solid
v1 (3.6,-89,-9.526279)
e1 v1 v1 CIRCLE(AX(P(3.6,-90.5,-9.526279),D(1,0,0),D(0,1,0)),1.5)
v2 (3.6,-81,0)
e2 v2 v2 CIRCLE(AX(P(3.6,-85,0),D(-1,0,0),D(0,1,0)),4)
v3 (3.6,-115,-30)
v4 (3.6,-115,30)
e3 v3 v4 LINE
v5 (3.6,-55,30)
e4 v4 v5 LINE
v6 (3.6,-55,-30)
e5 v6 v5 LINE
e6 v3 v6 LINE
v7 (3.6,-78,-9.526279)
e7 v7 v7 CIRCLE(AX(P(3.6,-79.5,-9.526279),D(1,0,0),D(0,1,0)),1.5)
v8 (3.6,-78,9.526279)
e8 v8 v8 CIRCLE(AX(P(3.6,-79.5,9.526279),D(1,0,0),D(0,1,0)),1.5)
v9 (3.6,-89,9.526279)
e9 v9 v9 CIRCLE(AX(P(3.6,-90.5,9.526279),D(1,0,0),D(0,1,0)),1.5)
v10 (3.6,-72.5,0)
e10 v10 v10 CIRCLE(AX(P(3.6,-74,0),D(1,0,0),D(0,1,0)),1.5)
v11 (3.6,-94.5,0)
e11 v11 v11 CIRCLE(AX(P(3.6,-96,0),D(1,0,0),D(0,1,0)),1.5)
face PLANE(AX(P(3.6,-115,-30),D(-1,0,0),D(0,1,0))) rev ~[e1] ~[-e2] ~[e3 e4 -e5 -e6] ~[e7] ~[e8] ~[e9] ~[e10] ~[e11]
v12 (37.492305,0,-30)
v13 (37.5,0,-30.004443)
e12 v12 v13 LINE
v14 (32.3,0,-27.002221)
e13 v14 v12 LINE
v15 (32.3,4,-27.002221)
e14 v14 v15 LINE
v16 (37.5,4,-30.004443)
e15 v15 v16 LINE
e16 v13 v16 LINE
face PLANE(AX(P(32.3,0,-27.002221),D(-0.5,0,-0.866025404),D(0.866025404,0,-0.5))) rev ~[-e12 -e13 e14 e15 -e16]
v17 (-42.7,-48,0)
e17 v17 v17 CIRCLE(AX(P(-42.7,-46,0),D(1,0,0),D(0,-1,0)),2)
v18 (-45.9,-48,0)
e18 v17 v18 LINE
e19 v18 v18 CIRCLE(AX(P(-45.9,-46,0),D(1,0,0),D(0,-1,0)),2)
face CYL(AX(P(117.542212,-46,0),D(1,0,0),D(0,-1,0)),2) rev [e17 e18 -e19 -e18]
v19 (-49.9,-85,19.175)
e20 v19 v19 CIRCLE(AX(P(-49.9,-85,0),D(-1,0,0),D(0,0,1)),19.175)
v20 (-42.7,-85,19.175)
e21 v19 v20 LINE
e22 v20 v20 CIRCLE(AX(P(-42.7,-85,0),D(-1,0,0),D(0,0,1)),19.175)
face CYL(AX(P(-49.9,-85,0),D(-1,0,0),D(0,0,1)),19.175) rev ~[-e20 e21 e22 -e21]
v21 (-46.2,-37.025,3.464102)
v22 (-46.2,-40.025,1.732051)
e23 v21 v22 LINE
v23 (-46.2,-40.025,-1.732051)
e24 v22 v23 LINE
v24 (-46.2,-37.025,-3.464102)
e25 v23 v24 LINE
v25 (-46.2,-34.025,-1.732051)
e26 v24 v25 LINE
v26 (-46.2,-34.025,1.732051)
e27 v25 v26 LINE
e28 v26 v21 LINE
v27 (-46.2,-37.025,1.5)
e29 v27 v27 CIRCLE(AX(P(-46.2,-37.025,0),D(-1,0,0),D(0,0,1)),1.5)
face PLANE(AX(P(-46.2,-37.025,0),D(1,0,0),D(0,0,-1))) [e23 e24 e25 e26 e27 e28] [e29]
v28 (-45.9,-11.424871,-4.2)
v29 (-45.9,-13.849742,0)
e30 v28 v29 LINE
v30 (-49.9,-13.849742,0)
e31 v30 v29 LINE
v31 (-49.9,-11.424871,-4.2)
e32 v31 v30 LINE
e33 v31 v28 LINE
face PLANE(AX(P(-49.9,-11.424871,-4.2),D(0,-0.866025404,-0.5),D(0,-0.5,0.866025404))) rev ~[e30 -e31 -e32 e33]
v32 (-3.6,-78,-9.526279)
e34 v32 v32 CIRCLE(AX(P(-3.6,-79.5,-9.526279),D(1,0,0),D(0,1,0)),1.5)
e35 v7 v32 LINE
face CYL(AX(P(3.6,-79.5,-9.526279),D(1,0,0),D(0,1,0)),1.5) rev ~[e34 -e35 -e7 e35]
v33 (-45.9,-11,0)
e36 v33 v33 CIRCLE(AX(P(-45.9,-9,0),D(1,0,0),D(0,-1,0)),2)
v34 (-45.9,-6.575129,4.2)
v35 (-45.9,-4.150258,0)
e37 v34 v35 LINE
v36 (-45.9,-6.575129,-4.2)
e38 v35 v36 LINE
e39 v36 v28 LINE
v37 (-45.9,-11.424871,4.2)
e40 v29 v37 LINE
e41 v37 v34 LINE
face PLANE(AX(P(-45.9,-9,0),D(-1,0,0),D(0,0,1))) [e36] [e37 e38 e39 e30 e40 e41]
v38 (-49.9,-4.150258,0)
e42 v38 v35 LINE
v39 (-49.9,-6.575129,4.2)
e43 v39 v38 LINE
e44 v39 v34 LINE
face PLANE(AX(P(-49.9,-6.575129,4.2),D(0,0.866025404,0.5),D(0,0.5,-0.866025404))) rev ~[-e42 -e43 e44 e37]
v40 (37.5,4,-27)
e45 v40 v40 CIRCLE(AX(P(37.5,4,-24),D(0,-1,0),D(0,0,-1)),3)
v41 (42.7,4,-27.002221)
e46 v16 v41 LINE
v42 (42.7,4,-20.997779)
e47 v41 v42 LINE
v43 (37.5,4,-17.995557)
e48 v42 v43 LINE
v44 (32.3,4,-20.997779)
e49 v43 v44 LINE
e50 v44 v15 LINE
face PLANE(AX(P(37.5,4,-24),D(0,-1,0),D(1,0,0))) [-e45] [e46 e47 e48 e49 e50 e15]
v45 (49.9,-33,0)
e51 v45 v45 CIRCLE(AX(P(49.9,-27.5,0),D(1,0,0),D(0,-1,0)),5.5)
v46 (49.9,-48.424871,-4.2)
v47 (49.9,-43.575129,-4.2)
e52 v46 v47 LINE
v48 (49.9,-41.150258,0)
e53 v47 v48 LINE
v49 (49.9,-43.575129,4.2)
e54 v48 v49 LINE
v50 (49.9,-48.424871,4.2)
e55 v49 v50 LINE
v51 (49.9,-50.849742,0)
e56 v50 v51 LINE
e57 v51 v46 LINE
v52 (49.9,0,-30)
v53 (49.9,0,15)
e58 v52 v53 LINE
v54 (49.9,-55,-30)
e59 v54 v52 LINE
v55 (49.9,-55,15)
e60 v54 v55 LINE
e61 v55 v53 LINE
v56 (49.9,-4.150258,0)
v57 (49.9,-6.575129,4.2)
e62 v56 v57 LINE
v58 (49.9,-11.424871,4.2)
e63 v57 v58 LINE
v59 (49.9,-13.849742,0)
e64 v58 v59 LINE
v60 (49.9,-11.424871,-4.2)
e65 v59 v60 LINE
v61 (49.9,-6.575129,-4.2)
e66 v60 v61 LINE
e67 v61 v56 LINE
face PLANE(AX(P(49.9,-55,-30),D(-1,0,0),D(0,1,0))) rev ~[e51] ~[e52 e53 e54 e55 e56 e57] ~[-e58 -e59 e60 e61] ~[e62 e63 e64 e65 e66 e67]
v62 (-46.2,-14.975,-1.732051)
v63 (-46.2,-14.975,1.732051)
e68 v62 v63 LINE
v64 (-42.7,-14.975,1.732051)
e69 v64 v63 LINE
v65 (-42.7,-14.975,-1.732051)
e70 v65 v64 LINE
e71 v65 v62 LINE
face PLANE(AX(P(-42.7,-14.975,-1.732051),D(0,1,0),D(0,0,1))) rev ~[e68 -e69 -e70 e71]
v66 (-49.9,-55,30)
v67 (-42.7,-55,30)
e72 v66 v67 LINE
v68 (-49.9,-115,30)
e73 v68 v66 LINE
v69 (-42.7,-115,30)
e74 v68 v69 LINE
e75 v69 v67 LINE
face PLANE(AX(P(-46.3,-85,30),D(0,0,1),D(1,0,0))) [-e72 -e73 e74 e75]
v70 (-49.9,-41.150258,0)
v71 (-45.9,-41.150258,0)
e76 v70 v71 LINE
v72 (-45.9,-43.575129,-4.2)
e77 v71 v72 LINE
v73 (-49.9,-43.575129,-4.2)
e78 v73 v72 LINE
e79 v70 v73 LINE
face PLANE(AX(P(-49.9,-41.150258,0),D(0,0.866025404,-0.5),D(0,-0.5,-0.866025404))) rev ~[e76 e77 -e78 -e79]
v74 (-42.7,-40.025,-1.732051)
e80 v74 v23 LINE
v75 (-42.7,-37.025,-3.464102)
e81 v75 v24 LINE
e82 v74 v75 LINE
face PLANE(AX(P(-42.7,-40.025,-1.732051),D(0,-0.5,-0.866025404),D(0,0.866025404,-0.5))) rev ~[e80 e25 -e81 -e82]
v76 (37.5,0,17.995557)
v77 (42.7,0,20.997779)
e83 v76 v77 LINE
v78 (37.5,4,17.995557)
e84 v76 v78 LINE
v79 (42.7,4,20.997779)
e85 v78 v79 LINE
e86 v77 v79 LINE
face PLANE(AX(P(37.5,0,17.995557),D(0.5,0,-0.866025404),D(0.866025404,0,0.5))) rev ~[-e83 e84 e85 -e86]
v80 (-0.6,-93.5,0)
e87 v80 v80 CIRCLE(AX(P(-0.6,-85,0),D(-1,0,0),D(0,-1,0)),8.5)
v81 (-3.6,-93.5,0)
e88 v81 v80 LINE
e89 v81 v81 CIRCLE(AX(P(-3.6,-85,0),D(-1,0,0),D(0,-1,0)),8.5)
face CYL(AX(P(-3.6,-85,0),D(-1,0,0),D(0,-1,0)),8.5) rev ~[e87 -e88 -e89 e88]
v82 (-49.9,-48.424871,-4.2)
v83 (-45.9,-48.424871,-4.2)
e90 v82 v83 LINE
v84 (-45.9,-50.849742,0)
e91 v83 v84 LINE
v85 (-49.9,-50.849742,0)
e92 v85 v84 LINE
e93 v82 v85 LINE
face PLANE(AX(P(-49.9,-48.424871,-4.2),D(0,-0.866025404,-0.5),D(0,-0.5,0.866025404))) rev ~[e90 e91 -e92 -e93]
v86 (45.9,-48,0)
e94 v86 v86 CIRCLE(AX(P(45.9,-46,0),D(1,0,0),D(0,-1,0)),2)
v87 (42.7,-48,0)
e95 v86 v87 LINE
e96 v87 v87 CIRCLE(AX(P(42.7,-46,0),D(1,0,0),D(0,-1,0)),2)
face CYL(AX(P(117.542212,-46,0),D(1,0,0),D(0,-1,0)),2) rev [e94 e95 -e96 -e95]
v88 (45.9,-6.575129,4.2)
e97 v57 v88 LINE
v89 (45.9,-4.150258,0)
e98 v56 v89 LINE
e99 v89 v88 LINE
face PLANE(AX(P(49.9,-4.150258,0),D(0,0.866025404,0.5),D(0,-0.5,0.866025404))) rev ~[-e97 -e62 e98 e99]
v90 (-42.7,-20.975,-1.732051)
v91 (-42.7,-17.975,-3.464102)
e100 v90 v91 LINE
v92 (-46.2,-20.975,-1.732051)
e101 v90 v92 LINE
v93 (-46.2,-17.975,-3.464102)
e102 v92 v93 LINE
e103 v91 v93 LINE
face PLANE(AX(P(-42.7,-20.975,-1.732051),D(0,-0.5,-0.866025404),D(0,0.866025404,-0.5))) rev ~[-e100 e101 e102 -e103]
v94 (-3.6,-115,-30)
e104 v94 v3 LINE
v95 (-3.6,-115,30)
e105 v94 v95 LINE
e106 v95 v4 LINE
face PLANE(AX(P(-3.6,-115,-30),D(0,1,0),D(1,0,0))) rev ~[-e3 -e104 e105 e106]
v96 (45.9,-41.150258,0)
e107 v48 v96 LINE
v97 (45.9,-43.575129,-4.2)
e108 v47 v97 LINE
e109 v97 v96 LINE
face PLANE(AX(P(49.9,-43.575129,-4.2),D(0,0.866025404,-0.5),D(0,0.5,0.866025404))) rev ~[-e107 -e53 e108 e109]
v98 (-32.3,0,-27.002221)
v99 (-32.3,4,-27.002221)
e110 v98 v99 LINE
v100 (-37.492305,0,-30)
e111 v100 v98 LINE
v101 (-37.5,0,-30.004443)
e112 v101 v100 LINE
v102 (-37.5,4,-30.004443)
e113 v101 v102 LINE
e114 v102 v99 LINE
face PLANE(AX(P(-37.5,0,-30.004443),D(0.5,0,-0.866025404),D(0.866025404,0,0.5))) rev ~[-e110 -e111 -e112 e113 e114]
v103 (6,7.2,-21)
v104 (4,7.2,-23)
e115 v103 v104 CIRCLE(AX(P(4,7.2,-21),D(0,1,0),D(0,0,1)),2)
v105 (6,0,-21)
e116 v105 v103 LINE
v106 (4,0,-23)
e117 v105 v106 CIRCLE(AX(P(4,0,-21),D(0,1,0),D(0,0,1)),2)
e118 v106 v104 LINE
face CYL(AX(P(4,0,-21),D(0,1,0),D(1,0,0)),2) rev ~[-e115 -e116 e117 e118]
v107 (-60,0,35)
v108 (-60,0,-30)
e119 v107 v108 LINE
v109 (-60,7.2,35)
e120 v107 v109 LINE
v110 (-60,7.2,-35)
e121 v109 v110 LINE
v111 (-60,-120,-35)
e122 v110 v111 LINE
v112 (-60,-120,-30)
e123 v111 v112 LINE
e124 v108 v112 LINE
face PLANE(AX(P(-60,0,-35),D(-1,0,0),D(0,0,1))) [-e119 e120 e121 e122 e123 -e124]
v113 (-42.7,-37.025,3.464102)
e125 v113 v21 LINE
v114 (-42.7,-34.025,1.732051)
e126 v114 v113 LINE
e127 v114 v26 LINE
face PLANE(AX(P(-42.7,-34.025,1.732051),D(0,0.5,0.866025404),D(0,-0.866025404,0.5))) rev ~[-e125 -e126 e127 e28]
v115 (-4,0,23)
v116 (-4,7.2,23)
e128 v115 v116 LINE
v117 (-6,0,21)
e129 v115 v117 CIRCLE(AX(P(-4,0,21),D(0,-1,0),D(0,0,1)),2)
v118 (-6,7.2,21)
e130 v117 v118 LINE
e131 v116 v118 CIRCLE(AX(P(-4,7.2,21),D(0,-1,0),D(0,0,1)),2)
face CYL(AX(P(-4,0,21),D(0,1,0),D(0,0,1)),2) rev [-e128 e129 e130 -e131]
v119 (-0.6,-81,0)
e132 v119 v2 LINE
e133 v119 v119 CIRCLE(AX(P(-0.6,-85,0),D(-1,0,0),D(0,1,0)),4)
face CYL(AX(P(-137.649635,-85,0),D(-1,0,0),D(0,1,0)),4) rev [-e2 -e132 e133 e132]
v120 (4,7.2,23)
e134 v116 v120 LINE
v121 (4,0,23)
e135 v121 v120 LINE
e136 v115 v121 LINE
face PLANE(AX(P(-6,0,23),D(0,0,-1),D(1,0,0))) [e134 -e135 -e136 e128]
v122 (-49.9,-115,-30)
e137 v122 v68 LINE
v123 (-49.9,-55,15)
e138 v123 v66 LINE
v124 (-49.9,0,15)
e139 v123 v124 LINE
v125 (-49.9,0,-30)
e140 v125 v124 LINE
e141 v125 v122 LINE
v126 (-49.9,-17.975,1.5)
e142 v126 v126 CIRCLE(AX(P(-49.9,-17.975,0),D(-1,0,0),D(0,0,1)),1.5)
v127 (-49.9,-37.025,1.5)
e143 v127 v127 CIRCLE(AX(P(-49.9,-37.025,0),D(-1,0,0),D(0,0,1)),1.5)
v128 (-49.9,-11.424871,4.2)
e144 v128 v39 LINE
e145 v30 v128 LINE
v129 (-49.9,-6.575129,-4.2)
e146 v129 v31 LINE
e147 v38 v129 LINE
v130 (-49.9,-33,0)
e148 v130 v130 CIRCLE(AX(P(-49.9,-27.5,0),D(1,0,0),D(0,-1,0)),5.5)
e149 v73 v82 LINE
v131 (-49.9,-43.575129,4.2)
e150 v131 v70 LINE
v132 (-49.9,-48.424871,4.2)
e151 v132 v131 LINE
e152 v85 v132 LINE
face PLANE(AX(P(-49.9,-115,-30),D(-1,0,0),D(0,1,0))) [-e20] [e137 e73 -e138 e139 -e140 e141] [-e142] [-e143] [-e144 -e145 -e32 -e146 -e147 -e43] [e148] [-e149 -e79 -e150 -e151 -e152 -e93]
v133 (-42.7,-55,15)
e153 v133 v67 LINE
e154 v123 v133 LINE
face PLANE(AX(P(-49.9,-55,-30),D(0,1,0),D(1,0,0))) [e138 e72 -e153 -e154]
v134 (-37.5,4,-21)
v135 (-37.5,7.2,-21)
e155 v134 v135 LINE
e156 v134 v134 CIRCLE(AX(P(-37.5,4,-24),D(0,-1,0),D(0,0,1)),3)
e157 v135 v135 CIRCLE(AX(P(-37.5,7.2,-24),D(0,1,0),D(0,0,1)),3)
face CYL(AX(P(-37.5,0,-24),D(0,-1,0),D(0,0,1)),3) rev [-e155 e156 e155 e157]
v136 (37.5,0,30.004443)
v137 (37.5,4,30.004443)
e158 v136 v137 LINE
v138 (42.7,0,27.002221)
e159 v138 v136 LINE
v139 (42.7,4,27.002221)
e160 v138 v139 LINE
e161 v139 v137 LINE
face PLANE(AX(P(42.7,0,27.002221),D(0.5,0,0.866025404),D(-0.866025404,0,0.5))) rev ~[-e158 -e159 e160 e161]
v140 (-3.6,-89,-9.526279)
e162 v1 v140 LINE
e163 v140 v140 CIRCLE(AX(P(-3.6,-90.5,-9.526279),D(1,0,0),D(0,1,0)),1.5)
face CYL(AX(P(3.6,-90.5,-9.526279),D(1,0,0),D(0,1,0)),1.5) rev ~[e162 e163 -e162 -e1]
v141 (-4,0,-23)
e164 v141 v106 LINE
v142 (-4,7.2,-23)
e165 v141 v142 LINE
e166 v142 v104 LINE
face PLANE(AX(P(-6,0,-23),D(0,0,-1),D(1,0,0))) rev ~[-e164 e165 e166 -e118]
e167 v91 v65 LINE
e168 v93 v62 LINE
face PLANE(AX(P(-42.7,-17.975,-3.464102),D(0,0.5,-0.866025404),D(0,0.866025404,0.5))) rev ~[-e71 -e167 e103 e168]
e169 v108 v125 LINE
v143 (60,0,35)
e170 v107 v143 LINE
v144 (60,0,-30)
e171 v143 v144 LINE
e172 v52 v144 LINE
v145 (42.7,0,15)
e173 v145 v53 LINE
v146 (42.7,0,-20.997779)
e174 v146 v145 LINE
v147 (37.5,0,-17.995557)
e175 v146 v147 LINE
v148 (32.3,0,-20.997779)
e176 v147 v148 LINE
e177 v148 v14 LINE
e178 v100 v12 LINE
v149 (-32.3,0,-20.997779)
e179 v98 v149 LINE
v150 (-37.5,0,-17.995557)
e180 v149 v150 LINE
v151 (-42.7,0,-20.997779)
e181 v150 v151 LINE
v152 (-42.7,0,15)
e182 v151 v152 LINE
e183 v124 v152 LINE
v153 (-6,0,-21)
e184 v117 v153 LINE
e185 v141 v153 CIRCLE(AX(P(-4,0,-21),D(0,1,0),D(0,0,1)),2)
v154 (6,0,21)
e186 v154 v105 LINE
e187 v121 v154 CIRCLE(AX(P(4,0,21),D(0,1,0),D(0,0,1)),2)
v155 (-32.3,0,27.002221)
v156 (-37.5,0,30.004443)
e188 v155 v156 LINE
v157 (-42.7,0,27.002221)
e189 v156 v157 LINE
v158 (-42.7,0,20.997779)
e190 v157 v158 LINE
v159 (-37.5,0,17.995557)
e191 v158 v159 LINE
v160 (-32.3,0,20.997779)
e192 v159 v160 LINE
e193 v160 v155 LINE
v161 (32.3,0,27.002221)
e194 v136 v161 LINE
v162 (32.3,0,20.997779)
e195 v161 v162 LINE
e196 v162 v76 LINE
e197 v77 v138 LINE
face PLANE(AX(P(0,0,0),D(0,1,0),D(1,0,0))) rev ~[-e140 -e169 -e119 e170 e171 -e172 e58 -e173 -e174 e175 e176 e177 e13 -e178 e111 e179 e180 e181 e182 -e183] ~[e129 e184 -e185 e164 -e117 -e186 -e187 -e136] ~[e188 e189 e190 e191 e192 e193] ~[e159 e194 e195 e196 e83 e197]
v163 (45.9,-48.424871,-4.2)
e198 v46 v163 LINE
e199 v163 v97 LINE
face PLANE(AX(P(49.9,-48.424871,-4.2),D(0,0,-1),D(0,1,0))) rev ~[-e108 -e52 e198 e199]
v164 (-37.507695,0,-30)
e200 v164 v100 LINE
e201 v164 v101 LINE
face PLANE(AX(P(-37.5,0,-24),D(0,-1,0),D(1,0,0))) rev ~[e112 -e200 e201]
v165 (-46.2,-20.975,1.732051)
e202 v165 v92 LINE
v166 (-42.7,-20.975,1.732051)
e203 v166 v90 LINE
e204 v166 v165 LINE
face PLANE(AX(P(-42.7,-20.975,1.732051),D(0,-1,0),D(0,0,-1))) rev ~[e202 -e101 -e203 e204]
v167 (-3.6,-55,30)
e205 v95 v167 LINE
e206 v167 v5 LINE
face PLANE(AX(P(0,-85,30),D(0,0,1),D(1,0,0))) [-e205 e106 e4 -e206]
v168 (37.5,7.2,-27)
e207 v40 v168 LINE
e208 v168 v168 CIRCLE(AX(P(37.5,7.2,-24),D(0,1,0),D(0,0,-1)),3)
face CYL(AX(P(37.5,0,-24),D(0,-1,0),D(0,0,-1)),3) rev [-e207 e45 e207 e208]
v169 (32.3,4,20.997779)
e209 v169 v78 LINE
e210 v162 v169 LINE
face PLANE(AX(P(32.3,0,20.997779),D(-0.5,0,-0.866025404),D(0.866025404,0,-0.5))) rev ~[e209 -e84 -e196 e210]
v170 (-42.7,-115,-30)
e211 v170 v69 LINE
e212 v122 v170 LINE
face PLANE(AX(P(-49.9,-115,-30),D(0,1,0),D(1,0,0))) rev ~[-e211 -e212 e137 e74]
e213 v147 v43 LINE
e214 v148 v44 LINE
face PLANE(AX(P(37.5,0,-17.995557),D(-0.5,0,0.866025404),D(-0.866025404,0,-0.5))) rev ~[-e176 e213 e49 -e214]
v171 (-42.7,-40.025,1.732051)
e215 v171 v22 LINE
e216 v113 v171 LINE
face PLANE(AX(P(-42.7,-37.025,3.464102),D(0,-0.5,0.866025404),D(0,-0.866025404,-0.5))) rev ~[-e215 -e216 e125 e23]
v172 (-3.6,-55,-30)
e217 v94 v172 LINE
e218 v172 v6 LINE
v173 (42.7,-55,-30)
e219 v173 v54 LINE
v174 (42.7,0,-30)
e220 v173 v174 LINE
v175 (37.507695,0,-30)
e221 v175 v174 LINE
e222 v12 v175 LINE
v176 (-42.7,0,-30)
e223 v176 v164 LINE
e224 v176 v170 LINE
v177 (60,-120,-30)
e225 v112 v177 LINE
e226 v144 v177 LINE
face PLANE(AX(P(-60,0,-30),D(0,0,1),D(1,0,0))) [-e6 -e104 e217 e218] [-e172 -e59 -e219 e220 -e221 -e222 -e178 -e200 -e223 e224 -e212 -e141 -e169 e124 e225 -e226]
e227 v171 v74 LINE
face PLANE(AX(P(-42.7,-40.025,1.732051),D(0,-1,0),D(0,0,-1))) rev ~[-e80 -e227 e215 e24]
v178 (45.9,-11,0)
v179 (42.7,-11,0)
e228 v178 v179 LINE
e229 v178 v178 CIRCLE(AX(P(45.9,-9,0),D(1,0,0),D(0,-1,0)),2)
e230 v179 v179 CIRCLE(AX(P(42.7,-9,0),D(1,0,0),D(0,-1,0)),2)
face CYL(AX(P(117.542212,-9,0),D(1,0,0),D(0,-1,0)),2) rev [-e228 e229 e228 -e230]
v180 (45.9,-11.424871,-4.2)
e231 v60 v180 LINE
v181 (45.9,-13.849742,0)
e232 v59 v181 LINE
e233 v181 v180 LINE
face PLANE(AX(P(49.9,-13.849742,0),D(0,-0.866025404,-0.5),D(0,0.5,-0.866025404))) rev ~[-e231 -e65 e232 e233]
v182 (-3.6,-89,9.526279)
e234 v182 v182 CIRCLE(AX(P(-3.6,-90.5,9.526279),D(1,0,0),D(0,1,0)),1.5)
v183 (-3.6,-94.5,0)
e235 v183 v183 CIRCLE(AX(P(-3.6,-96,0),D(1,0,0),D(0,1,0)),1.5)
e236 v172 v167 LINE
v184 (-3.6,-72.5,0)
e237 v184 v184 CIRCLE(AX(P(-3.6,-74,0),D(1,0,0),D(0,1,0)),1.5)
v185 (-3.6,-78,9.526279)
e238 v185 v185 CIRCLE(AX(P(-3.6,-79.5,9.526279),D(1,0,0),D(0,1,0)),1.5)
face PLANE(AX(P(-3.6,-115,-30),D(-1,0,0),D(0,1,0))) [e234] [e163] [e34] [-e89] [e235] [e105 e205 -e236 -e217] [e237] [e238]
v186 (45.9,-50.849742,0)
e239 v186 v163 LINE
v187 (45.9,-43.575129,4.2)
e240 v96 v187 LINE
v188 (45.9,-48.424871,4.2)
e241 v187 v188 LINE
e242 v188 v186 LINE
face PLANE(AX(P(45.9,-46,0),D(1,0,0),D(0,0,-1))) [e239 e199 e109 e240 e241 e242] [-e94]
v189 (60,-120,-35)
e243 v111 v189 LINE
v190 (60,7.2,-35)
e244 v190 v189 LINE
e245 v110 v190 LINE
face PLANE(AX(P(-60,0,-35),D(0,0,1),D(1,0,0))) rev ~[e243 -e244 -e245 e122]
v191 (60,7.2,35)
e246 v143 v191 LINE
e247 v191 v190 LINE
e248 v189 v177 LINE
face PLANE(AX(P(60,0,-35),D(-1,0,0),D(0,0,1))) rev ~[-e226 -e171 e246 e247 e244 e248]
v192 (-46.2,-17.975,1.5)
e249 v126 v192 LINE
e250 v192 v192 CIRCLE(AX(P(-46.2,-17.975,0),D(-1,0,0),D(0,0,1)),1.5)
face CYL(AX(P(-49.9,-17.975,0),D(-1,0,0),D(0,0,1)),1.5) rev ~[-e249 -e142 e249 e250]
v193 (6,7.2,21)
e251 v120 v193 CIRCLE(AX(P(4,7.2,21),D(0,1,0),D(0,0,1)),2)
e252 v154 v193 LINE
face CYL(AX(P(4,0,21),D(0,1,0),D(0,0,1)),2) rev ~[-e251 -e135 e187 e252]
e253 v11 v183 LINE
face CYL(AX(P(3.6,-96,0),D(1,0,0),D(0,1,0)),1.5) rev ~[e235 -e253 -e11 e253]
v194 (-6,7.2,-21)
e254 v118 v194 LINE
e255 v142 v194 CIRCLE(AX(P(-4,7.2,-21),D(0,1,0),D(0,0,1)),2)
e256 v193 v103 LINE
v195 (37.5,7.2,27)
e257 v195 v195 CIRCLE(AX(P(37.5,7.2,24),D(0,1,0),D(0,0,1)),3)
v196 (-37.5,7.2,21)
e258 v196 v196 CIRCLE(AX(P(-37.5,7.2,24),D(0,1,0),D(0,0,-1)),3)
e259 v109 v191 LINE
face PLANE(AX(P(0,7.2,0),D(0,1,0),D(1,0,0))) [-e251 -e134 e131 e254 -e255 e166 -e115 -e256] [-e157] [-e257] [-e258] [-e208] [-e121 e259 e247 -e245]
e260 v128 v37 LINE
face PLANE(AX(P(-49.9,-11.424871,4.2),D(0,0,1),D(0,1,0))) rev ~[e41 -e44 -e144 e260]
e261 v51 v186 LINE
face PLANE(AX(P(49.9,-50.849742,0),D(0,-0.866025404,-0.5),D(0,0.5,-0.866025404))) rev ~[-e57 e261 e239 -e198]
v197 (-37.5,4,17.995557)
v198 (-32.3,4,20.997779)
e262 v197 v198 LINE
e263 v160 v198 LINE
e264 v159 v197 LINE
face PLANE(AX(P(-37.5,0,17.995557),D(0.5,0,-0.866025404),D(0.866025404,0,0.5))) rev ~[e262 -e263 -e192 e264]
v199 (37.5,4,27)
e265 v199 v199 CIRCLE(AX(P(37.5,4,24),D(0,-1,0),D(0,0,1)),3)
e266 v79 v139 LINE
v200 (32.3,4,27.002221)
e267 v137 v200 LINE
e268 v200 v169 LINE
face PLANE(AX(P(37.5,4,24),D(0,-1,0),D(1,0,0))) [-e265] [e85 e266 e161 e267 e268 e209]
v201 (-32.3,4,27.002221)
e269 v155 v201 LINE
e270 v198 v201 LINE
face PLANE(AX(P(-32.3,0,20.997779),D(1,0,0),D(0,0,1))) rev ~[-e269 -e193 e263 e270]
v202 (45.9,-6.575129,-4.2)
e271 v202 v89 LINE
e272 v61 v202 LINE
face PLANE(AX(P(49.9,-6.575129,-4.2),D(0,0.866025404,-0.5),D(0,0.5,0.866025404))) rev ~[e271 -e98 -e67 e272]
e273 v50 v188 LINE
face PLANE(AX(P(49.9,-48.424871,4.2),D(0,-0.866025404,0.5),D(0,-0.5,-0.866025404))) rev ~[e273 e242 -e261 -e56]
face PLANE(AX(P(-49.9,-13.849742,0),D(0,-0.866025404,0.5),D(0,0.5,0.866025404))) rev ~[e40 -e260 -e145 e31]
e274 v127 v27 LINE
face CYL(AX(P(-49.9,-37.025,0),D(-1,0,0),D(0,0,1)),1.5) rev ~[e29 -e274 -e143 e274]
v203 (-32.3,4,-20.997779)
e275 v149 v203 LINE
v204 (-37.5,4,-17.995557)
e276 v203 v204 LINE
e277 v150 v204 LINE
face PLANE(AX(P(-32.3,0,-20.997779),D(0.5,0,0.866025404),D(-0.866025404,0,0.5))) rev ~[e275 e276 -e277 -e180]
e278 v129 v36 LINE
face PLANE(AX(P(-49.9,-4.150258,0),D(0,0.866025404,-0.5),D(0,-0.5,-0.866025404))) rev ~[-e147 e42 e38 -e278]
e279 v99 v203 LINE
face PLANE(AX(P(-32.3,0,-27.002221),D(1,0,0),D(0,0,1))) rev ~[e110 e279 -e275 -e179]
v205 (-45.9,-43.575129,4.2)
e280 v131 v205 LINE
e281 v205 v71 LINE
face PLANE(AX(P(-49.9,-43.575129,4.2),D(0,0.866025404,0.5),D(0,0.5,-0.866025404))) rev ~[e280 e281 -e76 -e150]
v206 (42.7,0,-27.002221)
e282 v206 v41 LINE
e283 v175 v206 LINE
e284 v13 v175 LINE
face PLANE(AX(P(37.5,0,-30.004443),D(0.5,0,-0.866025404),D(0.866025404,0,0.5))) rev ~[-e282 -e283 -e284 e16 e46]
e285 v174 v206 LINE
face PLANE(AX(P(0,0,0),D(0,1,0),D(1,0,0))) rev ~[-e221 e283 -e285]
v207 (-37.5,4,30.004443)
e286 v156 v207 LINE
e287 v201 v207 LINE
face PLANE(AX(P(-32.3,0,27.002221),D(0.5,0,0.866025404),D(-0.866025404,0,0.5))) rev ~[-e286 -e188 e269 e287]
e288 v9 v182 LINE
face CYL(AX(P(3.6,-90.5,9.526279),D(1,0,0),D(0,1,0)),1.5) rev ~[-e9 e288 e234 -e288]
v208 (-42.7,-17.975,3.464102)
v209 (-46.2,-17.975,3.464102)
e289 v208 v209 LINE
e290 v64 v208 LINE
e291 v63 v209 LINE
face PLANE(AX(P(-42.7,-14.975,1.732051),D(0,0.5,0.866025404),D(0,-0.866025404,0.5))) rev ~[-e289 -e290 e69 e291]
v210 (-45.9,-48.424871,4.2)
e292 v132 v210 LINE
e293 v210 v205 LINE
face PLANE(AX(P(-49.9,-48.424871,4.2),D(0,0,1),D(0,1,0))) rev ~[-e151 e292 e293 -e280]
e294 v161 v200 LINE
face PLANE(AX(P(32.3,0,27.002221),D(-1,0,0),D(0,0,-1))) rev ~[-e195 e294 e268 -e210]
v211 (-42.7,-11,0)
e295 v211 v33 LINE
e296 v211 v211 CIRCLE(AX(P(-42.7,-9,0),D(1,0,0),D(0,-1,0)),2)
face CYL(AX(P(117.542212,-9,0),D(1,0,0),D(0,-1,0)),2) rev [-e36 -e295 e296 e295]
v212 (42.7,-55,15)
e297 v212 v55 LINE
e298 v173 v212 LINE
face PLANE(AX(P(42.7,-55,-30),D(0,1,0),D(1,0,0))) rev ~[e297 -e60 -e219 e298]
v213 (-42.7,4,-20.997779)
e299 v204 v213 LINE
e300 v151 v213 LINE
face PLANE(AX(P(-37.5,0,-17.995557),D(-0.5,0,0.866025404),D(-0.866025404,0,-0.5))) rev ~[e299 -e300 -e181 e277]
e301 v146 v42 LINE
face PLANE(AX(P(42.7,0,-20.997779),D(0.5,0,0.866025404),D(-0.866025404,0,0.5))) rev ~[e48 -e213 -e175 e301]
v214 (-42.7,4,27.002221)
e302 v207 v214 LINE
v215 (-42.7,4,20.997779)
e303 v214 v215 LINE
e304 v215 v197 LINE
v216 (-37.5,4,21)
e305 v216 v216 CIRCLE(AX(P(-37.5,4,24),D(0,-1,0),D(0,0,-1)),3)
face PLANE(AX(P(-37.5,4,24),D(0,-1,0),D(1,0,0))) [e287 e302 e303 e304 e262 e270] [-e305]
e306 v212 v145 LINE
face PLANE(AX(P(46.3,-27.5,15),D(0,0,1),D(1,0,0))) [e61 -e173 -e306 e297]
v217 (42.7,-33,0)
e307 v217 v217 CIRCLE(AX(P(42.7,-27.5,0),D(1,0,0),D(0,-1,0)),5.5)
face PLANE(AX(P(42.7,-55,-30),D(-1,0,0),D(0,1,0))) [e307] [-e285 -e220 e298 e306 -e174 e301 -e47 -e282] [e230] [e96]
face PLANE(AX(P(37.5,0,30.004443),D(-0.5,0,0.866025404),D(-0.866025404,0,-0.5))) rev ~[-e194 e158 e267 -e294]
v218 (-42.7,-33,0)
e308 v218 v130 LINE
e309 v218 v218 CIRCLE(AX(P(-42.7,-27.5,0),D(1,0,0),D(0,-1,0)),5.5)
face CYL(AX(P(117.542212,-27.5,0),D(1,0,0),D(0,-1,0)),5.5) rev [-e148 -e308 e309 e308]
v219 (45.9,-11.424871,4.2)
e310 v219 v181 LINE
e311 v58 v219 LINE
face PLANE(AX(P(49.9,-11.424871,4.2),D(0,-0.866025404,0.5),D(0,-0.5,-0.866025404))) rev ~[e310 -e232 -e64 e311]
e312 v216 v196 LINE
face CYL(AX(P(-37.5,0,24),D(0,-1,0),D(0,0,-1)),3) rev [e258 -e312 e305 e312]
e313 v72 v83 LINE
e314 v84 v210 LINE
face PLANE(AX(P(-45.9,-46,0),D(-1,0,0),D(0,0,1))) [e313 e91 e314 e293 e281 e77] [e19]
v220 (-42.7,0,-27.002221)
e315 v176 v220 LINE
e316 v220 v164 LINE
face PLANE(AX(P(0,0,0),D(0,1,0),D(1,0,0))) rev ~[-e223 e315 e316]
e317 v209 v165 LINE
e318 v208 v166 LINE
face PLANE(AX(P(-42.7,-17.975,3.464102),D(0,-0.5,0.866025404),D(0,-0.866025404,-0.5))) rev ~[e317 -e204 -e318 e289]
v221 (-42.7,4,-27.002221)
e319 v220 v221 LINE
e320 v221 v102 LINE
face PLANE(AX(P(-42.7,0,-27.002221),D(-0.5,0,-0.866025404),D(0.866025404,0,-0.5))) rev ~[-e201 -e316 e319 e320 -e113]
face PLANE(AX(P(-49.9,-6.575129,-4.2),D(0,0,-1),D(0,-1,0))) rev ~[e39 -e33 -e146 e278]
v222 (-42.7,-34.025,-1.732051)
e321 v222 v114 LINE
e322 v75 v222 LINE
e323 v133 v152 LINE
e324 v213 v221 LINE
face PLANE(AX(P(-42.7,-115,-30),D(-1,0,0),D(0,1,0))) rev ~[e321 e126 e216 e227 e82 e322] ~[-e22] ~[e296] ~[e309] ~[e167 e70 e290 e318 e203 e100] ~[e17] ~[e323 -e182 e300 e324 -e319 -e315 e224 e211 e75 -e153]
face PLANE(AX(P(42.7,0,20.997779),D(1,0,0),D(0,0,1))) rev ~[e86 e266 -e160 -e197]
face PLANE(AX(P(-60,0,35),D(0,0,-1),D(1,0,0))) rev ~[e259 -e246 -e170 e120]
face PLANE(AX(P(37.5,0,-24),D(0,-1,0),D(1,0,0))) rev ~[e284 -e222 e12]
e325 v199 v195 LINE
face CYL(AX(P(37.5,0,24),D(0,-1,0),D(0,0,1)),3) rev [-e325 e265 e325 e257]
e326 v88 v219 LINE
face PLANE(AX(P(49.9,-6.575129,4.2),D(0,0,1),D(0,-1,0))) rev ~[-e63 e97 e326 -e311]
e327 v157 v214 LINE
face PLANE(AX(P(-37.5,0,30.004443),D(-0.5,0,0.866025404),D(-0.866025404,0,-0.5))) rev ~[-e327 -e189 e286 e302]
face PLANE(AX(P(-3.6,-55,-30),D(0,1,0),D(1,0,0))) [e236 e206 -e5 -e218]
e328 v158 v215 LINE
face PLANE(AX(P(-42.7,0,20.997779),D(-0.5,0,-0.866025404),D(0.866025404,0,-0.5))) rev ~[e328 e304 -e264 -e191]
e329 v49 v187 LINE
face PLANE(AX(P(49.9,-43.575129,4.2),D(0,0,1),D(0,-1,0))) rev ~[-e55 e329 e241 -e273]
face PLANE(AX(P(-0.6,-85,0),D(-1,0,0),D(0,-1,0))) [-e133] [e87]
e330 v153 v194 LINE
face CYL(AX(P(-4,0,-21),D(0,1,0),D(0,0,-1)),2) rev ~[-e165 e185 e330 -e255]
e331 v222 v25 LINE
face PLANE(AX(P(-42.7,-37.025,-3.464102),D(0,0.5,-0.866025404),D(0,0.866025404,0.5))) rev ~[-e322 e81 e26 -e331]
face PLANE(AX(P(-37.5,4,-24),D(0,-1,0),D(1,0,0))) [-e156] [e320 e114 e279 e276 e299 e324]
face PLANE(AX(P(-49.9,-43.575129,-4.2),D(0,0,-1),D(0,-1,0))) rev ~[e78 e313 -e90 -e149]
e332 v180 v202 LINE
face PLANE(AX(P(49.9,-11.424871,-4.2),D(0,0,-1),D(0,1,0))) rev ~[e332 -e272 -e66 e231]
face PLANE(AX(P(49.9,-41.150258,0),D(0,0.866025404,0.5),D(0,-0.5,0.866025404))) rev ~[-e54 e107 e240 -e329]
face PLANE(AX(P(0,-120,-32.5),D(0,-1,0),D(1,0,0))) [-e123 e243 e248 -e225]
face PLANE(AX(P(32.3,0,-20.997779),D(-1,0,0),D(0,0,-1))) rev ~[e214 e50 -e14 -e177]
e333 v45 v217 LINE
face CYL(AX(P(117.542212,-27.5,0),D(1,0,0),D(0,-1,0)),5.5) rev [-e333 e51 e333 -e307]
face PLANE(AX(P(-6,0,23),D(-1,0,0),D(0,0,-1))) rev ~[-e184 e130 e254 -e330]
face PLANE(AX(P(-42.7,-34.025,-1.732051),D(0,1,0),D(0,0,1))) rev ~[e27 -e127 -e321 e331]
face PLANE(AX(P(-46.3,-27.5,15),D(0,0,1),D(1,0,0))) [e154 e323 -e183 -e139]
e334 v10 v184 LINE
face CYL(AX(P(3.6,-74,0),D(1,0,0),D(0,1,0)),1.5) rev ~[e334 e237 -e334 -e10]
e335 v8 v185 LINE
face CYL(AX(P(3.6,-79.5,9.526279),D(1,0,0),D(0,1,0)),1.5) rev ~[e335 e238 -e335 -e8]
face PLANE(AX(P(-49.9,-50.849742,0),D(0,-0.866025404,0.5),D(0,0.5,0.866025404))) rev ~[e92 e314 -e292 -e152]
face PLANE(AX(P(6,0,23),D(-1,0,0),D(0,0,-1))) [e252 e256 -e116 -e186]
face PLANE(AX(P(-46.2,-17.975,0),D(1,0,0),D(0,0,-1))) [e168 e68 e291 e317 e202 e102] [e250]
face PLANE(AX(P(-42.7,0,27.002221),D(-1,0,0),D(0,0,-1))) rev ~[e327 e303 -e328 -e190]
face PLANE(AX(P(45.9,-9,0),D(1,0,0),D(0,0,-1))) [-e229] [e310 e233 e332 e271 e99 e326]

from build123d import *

# Parameters (mm, degrees)
SKETCH1_W                = 120
SKETCH1_H                = 70
SKETCH1_R                = 3
SKETCH1_W_2              = 12
SKETCH1_H_2              = 46
BOSS_EXTRUDE1_DEPTH      = 7.2
FILLET1_R                = 2
SKETCH2_W                = 120
SKETCH2_H                = 5
BOSS_EXTRUDE2_DEPTH      = 120
SKETCH9_W                = 7.2
SKETCH9_H                = 55
BOSS_EXTRUDE3_DEPTH      = 45
CUT_EXTRUDE5_DEPTH       = 167.442212194
CUT_EXTRUDE5_DEPTH_BACK  = 167.442212194
SKETCH10_R               = 5.5
SKETCH10_R_2             = 2
CUT_EXTRUDE4_DEPTH       = 4
CUT_EXTRUDE6_DEPTH       = 4
CUT_EXTRUDE7_DEPTH       = 4
SKETCH15_R               = 1.5
CUT_EXTRUDE8_DEPTH       = 7.2
CUT_EXTRUDE9_DEPTH       = 3.5
SKETCH17_W               = 7.2
SKETCH17_H               = 60
BOSS_EXTRUDE4_DEPTH      = 60
CUT_EXTRUDE10_DEPTH      = 141.249634581
CUT_EXTRUDE10_DEPTH_BACK = 141.249634581
SKETCH18_R               = 4
SKETCH19_R               = 1.5
CUT_EXTRUDE11_DEPTH      = 7.2
SKETCH20_R               = 8.5
CUT_EXTRUDE12_DEPTH      = 3
SKETCH21_R               = 19.175
CUT_EXTRUDE13_DEPTH      = 7.2


with BuildPart() as part:
    # Sketch1 → Boss-Extrude1 (new body)
    with BuildSketch(Plane(origin=(0, 0, 0), x_dir=(1, 0, 0), z_dir=(0, 1, 0))):
        Rectangle(SKETCH1_W, SKETCH1_H)
        with Locations(Location((-37.5, 24, 0), (0, 0, 270))):
            Circle(SKETCH1_R, mode=Mode.SUBTRACT)
        with Locations(Location((-37.5, -24, 0), (0, 0, 90))):
            Circle(SKETCH1_R, mode=Mode.SUBTRACT)
        with Locations(Location((37.5, 24, 0), (0, 0, 90))):
            Circle(SKETCH1_R, mode=Mode.SUBTRACT)
        with Locations(Location((37.5, -24, 0), (0, 0, 270))):
            Circle(SKETCH1_R, mode=Mode.SUBTRACT)
        Rectangle(SKETCH1_W_2, SKETCH1_H_2, mode=Mode.SUBTRACT)
    extrude(amount=BOSS_EXTRUDE1_DEPTH)

    # Fillet1
    fillet1_edges = [part.edges().sort_by_distance(p)[0] for p in [
        (-6, 3.6, -23),
        (-6, 3.6, 23),
        (6, 3.6, 23),
        (6, 3.6, -23),
    ]]
    fillet(fillet1_edges, radius=FILLET1_R)

    # Sketch2 → Boss-Extrude2 (add)
    with BuildSketch(Plane.XZ):
        with Locations((0, -32.5)):
            Rectangle(SKETCH2_W, SKETCH2_H)
    extrude(amount=BOSS_EXTRUDE2_DEPTH)

    # Sketch9 → Boss-Extrude3 (add)
    with BuildSketch(Plane.XY.offset(-30)):
        with Locations((-46.3, -27.5)):
            Rectangle(SKETCH9_W, SKETCH9_H)
        with Locations((46.3, -27.5)):
            Rectangle(SKETCH9_W, SKETCH9_H)
    extrude(amount=BOSS_EXTRUDE3_DEPTH)

    # Sketch10 → Cut-Extrude5 (cut, two sides: drawn at the far end of the back side and taken through both)
    with BuildSketch(Plane.ZY.offset(49.9).offset(-CUT_EXTRUDE5_DEPTH_BACK)):
        with Locations(Location((0, -27.5, 0), (0, 0, 270))):
            Circle(SKETCH10_R)
        with Locations(Location((0, -9, 0), (0, 0, 270))):
            Circle(SKETCH10_R_2)
        with Locations(Location((0, -46, 0), (0, 0, 270))):
            Circle(SKETCH10_R_2)
    extrude(amount=CUT_EXTRUDE5_DEPTH + CUT_EXTRUDE5_DEPTH_BACK, mode=Mode.SUBTRACT)

    # Sketch8 → Cut-Extrude4 (cut)
    with BuildSketch(Plane.XZ):
        Polygon((42.7, 27.0022214), (37.5, 30.0044428), (32.3, 27.0022214), (32.3, 20.9977786), (37.5, 17.9955572), (42.7, 20.9977786), align=None)
        Polygon((-32.3, 27.0022214), (-37.5, 30.0044428), (-42.7, 27.0022214), (-42.7, 20.9977786), (-37.5, 17.9955572), (-32.3, 20.9977786), align=None)
        Polygon((42.7, -20.9977786), (37.5, -17.9955572), (32.3, -20.9977786), (32.3, -27.0022214), (37.5, -30.0044428), (42.7, -27.0022214), align=None)
        Polygon((-32.3, -20.9977786), (-37.5, -17.9955572), (-42.7, -20.9977786), (-42.7, -27.0022214), (-37.5, -30.0044428), (-32.3, -27.0022214), align=None)
    extrude(amount=-CUT_EXTRUDE4_DEPTH, mode=Mode.SUBTRACT)

    # Sketch11 → Cut-Extrude6 (cut)
    with BuildSketch(Plane.ZY.offset(49.9)):
        Polygon((0, -13.849742261), (4.2, -11.424871131), (4.2, -6.575128869), (0, -4.150257739), (-4.2, -6.575128869), (-4.2, -11.424871131), align=None)
        Polygon((0, -50.849742261), (4.2, -48.424871131), (4.2, -43.575128869), (0, -41.150257739), (-4.2, -43.575128869), (-4.2, -48.424871131), align=None)
    extrude(amount=-CUT_EXTRUDE6_DEPTH, mode=Mode.SUBTRACT)

    # Sketch12 → Cut-Extrude7 (cut)
    with BuildSketch(Plane(origin=(49.9, 0, 0), x_dir=(0, 0, -1), z_dir=(1, 0, 0))):
        Polygon((0, -13.849742261), (4.2, -11.424871131), (4.2, -6.575128869), (0, -4.150257739), (-4.2, -6.575128869), (-4.2, -11.424871131), align=None)
        Polygon((0, -41.150257739), (-4.2, -43.575128869), (-4.2, -48.424871131), (0, -50.849742261), (4.2, -48.424871131), (4.2, -43.575128869), align=None)
    extrude(amount=-CUT_EXTRUDE7_DEPTH, mode=Mode.SUBTRACT)

    # Sketch15 → Cut-Extrude8 (cut)
    with BuildSketch(Plane.ZY.offset(49.9)):
        with Locations((0, -17.975)):
            Circle(SKETCH15_R)
        with Locations((0, -37.025)):
            Circle(SKETCH15_R)
    extrude(amount=-CUT_EXTRUDE8_DEPTH, mode=Mode.SUBTRACT)

    # Sketch16 → Cut-Extrude9 (cut)
    with BuildSketch(Plane(origin=(-42.7, 0, 0), x_dir=(0, 0, -1), z_dir=(1, 0, 0))):
        Polygon((1.732050808, -14.975), (-1.732050808, -14.975), (-3.464101615, -17.975), (-1.732050808, -20.975), (1.732050808, -20.975), (3.464101615, -17.975), align=None)
        Polygon((1.732050808, -34.025), (-1.732050808, -34.025), (-3.464101615, -37.025), (-1.732050808, -40.025), (1.732050808, -40.025), (3.464101615, -37.025), align=None)
    extrude(amount=-CUT_EXTRUDE9_DEPTH, mode=Mode.SUBTRACT)

    # Sketch17 → Boss-Extrude4 (add)
    with BuildSketch(Plane.XY.offset(-30)):
        with Locations((0, -85)):
            Rectangle(SKETCH17_W, SKETCH17_H)
        with Locations((-46.3, -85)):
            Rectangle(SKETCH17_W, SKETCH17_H)
    extrude(amount=BOSS_EXTRUDE4_DEPTH)

    # Sketch18 → Cut-Extrude10 (cut, two sides: drawn at the far end of the back side and taken through both)
    with BuildSketch(Plane(origin=(3.6, 0, 0), x_dir=(0, 0, -1), z_dir=(1, 0, 0)).offset(-CUT_EXTRUDE10_DEPTH_BACK)):
        with Locations(Location((0, -85, 0), (0, 0, 90))):
            Circle(SKETCH18_R)
    extrude(amount=CUT_EXTRUDE10_DEPTH + CUT_EXTRUDE10_DEPTH_BACK, mode=Mode.SUBTRACT)

    # Sketch19 → Cut-Extrude11 (cut)
    with BuildSketch(Plane(origin=(3.6, 0, 0), x_dir=(0, 0, -1), z_dir=(1, 0, 0))):
        with Locations(Location((0, -74, 0), (0, 0, 90))):
            Circle(SKETCH19_R)
        with Locations(Location((9.526279442, -79.5, 0), (0, 0, 90))):
            Circle(SKETCH19_R)
        with Locations(Location((9.526279442, -90.5, 0), (0, 0, 90))):
            Circle(SKETCH19_R)
        with Locations(Location((0, -96, 0), (0, 0, 90))):
            Circle(SKETCH19_R)
        with Locations(Location((-9.526279442, -90.5, 0), (0, 0, 90))):
            Circle(SKETCH19_R)
        with Locations(Location((-9.526279442, -79.5, 0), (0, 0, 90))):
            Circle(SKETCH19_R)
    extrude(amount=-CUT_EXTRUDE11_DEPTH, mode=Mode.SUBTRACT)

    # Sketch20 → Cut-Extrude12 (cut)
    with BuildSketch(Plane.ZY.offset(3.6)):
        with Locations(Location((0, -85, 0), (0, 0, 270))):
            Circle(SKETCH20_R)
    extrude(amount=-CUT_EXTRUDE12_DEPTH, mode=Mode.SUBTRACT)

    # Sketch21 → Cut-Extrude13 (cut)
    with BuildSketch(Plane.ZY.offset(49.9)):
        with Locations((0, -85)):
            Circle(SKETCH21_R)
    extrude(amount=-CUT_EXTRUDE13_DEPTH, mode=Mode.SUBTRACT)


solid = part.part
